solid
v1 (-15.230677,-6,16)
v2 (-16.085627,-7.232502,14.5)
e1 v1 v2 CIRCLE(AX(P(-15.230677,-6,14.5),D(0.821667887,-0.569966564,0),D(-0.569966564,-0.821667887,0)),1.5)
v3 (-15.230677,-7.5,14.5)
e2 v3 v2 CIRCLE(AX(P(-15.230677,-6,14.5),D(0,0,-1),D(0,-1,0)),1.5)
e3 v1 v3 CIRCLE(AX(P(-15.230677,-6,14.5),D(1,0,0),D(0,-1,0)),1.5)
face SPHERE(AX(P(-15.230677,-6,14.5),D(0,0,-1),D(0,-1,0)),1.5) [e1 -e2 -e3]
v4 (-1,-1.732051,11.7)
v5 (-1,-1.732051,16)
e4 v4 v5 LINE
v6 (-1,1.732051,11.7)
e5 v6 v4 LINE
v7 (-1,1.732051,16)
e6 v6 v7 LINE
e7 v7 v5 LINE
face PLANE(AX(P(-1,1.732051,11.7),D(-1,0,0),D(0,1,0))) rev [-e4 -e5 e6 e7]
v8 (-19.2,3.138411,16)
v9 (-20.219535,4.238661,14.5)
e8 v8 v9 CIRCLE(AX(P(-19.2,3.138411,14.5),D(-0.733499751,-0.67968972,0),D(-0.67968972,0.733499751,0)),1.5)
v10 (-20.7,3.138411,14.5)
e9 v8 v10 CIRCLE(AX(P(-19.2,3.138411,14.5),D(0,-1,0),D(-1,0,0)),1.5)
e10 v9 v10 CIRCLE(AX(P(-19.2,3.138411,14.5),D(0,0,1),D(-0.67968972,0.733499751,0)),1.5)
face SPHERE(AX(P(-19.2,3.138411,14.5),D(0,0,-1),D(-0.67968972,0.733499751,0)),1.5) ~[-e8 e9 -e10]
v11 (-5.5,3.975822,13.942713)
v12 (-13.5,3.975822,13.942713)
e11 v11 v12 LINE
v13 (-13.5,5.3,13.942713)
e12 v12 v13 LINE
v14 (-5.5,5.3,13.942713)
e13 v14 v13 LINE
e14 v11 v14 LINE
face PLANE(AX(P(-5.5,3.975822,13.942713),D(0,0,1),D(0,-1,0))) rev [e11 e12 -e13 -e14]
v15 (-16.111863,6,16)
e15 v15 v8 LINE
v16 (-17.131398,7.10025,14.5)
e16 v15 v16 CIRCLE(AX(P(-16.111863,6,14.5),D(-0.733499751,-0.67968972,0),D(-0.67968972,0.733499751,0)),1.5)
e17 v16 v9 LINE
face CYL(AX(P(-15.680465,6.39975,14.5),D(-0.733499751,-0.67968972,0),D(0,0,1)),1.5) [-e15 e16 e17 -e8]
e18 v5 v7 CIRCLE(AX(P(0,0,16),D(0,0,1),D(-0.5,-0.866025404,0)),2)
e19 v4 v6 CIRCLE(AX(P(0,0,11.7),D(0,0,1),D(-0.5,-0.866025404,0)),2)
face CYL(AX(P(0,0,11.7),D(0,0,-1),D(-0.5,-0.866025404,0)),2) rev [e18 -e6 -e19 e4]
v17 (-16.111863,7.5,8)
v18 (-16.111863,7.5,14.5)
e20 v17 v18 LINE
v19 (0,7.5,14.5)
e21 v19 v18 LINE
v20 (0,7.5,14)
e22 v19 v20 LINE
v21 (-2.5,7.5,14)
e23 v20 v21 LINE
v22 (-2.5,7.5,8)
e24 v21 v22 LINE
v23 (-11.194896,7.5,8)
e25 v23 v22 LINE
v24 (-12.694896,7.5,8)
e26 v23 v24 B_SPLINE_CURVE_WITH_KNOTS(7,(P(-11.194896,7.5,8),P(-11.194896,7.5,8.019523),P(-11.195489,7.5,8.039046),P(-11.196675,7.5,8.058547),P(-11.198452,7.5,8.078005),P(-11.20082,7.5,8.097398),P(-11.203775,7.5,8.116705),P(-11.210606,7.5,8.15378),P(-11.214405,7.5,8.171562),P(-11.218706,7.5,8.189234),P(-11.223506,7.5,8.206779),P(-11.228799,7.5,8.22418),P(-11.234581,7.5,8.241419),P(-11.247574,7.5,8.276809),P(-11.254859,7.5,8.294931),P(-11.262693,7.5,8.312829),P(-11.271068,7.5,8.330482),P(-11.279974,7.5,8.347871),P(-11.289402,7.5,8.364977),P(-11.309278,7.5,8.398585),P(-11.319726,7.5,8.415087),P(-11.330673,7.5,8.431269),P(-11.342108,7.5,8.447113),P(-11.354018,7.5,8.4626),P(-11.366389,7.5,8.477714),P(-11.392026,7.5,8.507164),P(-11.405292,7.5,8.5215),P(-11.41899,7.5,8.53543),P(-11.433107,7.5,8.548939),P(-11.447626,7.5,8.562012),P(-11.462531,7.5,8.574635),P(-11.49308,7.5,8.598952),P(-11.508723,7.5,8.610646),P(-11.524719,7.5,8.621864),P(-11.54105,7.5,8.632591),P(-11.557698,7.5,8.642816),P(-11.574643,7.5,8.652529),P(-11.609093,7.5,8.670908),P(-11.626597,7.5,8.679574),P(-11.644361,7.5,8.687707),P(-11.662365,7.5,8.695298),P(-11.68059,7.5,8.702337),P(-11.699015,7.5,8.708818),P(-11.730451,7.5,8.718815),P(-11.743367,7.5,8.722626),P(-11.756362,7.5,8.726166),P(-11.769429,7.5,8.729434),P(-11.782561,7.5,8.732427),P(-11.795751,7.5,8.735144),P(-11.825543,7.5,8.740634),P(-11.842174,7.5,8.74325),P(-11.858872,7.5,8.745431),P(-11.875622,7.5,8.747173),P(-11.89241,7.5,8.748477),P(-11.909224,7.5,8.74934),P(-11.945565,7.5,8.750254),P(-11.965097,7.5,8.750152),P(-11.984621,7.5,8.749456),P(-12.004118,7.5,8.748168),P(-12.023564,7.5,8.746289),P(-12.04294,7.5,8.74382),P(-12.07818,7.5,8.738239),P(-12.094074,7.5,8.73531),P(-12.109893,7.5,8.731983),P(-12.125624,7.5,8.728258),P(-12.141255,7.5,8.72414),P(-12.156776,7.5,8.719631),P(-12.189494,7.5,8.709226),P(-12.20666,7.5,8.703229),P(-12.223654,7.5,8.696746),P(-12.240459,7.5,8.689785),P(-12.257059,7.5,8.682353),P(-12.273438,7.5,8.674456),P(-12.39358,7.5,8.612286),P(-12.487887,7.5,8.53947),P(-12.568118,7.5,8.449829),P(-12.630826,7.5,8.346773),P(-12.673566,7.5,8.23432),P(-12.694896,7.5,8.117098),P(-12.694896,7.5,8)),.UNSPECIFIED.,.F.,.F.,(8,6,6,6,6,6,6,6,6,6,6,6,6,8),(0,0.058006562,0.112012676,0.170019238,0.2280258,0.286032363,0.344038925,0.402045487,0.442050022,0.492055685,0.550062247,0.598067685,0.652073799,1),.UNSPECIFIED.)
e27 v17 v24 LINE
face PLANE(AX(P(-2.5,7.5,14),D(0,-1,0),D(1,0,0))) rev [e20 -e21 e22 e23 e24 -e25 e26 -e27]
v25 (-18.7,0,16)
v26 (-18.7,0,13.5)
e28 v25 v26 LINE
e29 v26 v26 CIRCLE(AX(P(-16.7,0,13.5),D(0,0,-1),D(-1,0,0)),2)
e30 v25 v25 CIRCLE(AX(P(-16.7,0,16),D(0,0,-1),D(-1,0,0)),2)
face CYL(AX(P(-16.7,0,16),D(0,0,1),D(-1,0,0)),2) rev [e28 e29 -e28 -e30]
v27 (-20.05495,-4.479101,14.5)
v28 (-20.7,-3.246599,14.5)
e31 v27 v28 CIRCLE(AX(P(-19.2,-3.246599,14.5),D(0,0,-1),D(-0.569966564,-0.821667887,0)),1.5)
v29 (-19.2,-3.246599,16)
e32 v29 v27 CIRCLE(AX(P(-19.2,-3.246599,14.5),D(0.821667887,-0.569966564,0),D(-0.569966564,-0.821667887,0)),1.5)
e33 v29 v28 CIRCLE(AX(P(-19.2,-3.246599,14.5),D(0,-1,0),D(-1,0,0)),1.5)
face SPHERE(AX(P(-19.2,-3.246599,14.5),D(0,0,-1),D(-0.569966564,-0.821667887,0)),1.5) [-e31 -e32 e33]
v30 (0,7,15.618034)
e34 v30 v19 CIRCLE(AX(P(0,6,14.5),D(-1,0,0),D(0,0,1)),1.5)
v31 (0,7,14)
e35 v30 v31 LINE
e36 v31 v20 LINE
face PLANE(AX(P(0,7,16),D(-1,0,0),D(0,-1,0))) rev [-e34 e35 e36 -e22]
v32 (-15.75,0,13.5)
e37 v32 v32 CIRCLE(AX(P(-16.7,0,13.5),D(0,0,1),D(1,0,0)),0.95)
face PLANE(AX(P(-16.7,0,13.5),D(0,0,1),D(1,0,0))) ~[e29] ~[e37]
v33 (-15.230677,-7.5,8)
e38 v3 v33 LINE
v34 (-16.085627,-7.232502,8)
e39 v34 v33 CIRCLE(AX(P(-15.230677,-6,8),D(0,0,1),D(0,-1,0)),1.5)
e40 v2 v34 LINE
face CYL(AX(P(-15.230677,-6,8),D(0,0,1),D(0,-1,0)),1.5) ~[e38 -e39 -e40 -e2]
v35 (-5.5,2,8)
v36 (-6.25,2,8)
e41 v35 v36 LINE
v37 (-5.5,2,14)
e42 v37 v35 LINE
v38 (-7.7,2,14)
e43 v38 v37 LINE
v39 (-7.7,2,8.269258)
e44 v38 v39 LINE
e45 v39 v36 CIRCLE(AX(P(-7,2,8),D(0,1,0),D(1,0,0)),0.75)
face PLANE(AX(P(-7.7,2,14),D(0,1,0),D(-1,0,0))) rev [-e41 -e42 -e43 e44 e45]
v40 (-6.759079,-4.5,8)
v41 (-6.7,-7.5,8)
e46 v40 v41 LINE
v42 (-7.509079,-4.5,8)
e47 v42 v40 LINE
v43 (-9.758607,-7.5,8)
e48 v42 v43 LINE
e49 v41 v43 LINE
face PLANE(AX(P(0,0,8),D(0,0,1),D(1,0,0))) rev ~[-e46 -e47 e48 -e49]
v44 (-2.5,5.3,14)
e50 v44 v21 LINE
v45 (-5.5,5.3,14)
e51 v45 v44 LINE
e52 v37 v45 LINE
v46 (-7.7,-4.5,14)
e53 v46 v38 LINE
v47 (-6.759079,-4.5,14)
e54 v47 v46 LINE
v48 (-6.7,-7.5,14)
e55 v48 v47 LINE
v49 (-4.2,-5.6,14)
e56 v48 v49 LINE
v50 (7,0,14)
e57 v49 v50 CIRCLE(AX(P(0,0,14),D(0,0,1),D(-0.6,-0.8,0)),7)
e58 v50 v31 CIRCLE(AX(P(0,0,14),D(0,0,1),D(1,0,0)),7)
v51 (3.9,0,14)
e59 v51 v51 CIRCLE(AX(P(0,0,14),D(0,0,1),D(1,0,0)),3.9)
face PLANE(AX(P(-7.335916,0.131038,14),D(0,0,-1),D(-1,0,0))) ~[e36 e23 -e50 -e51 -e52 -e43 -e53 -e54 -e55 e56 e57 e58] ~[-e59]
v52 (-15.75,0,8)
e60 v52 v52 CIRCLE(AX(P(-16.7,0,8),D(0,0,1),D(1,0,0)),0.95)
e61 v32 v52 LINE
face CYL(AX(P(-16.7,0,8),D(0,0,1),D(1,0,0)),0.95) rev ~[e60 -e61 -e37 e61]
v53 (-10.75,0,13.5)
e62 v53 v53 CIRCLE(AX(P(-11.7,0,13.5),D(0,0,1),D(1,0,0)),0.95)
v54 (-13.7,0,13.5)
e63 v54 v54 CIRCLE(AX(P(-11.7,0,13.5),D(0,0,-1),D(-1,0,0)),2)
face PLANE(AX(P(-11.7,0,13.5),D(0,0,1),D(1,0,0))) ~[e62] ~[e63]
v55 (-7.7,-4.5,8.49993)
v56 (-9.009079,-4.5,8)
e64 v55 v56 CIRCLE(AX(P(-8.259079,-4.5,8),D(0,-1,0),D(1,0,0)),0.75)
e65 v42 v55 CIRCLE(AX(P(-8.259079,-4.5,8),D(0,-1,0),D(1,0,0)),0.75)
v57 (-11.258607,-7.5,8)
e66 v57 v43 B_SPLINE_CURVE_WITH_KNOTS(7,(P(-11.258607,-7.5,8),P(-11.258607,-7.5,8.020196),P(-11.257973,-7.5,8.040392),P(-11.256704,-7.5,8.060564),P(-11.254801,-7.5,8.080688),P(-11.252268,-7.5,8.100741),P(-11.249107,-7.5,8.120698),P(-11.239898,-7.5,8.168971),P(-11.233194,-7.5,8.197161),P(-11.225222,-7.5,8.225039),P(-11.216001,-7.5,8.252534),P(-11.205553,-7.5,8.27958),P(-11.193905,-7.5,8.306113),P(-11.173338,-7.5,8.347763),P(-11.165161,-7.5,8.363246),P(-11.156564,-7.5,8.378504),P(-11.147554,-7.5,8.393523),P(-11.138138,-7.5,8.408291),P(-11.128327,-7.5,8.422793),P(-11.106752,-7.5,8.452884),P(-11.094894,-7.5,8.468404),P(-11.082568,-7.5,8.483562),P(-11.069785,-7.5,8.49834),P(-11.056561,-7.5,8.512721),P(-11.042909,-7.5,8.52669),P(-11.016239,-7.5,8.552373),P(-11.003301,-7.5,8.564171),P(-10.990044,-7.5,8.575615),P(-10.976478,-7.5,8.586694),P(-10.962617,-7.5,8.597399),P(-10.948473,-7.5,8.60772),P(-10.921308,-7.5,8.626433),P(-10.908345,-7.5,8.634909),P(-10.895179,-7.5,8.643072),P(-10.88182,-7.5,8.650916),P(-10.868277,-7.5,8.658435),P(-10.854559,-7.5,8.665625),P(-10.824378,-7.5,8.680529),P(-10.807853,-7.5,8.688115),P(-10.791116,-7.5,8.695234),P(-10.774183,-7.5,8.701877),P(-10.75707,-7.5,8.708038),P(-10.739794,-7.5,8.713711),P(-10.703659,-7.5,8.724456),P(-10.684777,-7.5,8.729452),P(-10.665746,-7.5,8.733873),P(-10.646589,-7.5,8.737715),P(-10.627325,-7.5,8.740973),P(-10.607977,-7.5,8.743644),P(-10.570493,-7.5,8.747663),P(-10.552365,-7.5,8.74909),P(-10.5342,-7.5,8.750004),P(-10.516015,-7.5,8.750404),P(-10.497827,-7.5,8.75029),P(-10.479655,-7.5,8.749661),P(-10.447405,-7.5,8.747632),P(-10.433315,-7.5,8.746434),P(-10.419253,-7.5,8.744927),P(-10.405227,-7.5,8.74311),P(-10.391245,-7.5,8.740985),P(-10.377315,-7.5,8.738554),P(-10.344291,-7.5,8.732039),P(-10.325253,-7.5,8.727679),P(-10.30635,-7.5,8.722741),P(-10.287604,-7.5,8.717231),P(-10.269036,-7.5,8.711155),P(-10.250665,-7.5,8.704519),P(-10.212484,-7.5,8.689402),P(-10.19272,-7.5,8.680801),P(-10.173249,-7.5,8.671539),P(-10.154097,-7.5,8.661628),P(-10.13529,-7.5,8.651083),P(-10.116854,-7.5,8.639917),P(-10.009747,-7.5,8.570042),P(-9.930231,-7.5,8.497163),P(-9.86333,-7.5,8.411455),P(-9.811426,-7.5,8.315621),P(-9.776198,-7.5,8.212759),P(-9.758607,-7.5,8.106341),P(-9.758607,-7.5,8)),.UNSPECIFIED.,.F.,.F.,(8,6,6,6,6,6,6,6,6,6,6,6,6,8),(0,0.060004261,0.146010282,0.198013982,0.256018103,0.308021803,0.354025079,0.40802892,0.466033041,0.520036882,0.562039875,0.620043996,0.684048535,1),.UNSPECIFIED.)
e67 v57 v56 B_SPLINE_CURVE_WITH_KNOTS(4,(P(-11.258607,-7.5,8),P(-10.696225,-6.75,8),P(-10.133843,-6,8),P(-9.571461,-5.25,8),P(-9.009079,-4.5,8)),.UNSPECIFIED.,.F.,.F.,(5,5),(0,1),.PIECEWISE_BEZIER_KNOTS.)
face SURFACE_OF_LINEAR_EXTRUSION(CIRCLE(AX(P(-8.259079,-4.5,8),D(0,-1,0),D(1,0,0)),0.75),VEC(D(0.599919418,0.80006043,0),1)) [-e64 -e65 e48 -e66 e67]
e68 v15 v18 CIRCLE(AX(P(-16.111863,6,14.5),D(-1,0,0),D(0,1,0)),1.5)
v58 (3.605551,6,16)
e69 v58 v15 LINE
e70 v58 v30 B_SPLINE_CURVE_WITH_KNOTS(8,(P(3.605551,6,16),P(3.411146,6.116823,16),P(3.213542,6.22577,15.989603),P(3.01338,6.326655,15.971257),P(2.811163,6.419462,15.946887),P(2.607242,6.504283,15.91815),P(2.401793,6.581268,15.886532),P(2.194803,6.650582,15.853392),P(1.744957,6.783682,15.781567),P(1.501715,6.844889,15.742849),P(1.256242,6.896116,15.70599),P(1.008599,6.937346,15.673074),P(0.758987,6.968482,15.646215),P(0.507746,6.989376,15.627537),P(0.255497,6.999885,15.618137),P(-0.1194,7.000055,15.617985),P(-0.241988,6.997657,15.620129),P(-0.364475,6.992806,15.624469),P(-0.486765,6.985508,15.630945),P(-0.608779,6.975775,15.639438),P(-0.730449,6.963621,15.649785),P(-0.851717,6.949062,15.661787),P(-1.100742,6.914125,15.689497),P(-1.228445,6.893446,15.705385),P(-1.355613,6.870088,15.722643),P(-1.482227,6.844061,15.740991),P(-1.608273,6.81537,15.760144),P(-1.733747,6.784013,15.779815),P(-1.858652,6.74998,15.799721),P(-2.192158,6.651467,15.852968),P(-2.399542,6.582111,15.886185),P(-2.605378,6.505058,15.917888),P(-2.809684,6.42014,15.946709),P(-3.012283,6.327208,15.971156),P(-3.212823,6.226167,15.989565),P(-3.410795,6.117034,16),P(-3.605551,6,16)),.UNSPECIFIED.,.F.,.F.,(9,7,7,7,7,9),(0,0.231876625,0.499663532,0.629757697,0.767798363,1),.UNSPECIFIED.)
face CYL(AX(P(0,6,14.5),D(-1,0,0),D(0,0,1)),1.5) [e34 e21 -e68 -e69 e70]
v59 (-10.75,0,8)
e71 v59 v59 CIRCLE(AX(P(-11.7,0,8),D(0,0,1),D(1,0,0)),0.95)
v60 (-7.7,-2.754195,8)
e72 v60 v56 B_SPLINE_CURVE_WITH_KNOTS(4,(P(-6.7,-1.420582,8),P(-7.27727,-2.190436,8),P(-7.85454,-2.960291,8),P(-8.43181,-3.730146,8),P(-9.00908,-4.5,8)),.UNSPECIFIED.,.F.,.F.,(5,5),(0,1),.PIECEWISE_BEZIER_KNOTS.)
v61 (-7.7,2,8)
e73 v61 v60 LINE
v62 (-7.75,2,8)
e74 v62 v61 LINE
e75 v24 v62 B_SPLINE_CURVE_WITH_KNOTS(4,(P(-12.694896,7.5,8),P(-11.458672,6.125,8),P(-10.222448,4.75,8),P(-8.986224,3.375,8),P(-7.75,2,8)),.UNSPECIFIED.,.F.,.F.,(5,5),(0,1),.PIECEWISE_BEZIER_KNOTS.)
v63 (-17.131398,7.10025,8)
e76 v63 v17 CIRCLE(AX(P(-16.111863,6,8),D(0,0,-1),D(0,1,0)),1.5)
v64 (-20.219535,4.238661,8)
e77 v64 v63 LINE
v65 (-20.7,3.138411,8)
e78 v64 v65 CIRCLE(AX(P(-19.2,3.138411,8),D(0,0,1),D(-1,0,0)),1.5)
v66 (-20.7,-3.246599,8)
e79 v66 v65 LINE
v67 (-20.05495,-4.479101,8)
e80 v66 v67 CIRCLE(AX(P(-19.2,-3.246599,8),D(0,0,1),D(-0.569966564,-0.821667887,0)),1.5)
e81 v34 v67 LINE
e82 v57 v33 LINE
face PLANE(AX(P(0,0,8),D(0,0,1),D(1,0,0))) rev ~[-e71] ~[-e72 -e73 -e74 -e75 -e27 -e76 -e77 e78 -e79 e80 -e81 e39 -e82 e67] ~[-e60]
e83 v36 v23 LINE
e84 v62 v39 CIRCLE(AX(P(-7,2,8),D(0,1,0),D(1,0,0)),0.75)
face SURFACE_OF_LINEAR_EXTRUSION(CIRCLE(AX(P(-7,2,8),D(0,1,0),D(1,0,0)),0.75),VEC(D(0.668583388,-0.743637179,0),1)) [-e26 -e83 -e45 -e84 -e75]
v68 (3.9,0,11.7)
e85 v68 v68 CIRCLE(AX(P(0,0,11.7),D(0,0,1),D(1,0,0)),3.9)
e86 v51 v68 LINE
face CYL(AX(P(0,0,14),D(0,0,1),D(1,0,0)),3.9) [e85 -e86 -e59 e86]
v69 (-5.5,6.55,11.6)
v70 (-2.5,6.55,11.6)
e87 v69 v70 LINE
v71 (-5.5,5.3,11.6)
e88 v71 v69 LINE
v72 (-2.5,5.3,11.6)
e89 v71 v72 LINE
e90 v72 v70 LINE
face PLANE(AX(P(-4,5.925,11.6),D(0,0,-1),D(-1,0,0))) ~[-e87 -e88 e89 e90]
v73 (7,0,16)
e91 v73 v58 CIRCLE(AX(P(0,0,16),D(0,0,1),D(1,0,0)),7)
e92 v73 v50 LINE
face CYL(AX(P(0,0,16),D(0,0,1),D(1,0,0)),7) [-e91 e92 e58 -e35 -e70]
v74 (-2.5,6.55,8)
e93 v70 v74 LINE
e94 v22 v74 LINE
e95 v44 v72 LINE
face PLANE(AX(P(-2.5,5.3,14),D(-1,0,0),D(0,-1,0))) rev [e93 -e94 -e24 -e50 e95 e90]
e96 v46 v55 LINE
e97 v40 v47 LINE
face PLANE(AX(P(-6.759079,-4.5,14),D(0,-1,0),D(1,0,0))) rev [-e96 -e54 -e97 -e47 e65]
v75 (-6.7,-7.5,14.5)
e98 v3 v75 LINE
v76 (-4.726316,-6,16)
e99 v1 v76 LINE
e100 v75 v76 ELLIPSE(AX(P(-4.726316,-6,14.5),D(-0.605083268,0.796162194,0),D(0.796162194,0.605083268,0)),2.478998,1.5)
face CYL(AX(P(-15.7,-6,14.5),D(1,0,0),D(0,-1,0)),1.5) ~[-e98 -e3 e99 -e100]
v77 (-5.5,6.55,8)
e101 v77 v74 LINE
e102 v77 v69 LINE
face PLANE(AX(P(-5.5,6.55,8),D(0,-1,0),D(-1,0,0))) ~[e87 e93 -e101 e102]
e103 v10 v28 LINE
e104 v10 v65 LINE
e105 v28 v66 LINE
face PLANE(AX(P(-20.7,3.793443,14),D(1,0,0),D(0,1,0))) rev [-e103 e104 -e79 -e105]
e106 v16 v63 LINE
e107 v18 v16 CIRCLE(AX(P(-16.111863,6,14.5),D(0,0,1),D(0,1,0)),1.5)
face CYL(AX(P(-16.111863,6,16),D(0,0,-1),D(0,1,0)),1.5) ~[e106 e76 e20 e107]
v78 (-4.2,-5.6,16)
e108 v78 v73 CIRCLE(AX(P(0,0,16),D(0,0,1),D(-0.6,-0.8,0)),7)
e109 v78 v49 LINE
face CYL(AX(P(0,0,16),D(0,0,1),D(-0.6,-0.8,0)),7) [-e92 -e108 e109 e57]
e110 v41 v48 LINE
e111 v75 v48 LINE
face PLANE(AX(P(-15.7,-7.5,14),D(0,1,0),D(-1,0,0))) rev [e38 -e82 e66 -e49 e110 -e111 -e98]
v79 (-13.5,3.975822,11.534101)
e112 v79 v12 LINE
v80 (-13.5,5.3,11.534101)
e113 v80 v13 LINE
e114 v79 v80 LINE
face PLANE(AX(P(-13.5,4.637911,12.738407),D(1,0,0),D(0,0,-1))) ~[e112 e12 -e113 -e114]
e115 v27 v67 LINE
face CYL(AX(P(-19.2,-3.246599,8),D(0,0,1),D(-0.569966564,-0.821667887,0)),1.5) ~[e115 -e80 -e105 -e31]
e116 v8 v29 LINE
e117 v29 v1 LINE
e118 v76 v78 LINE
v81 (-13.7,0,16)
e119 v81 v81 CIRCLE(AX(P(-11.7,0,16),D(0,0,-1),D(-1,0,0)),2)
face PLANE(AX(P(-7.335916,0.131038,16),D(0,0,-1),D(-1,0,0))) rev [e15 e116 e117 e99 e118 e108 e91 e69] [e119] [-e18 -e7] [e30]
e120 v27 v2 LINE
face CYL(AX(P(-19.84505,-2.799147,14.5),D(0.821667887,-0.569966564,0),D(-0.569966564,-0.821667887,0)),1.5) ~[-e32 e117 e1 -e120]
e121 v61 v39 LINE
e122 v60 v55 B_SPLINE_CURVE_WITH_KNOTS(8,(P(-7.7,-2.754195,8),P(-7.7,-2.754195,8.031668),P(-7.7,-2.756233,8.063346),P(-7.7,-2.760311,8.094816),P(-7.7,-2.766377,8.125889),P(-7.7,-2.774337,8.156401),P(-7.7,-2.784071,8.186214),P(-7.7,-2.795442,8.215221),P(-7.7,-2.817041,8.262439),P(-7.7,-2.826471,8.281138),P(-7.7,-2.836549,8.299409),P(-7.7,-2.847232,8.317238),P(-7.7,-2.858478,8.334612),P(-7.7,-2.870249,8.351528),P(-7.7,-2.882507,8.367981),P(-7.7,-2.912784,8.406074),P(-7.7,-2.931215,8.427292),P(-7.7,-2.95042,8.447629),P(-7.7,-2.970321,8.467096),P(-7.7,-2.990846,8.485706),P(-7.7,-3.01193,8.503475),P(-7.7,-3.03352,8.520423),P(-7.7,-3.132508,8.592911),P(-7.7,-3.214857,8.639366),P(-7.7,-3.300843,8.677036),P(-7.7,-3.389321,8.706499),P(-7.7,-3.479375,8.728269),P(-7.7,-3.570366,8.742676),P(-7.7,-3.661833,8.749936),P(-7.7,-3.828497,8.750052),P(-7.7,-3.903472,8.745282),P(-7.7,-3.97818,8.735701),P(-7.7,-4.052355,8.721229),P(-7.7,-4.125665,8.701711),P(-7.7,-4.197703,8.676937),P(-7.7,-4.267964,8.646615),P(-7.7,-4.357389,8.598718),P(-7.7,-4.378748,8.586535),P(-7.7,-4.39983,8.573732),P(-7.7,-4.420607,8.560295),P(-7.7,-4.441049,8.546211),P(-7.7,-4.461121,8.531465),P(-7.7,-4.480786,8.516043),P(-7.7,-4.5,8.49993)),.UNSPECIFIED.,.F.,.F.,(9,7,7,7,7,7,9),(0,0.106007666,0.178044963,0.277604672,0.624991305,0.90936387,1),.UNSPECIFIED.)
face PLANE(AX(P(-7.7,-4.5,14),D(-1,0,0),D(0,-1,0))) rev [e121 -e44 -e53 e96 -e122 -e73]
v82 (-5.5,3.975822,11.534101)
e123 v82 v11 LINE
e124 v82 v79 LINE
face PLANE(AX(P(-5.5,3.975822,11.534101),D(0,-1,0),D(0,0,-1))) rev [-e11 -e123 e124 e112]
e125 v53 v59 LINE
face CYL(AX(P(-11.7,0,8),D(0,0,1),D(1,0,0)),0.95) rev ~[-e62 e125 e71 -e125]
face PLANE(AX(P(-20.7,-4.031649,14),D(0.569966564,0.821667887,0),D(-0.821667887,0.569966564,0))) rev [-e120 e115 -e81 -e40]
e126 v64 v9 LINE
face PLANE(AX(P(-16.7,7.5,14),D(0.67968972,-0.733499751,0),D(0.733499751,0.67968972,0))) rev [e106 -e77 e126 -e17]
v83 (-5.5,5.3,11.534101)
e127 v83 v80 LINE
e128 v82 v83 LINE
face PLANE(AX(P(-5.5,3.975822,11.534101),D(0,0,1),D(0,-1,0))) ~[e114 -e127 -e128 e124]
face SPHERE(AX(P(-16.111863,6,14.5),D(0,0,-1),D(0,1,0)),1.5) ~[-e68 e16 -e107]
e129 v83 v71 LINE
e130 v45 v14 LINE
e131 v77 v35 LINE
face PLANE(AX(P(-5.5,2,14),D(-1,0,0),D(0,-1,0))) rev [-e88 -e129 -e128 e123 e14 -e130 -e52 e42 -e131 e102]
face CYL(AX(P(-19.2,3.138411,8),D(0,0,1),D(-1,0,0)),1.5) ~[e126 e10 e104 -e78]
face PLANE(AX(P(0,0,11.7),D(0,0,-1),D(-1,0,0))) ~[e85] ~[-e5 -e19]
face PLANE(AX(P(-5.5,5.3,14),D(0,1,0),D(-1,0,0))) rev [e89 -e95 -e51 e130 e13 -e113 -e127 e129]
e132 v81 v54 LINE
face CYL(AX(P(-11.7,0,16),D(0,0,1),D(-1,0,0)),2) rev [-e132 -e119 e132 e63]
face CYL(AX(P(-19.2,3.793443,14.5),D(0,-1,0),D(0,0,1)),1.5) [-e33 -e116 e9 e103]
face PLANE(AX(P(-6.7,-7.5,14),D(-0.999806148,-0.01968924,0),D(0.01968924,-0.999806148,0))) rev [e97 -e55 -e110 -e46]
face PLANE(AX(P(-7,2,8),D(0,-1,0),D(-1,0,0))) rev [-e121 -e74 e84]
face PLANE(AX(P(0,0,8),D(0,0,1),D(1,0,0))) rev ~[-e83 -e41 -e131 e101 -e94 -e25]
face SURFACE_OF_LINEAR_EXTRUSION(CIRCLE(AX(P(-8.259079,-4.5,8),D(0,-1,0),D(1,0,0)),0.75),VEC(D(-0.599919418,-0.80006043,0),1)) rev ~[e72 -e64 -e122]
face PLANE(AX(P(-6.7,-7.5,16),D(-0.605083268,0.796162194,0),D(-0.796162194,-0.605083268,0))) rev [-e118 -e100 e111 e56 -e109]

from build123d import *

# Parameters (mm, degrees)
BOSS_EXTRUDE1_DEPTH = 2
BOSS_EXTRUDE2_DEPTH = 6
SKETCH24_R          = 3.9
BOSS_EXTRUDE5_DEPTH = 2.3
SKETCH30_W          = 2.408612022
SKETCH30_H          = 1.324178481
CUT_EXTRUDE12_DEPTH = 8
CUT_EXTRUDE11_DEPTH = 5.3
FILLET1_R           = 1.5
SKETCH34_R          = 0.75
CUT_EXTRUDE13_DEPTH = 8
SKETCH35_R          = 0.75
CUT_EXTRUDE14_DEPTH = 4
SKETCH36_R          = 0.95
CUT_EXTRUDE15_DEPTH = 8
SKETCH37_R          = 2
CUT_EXTRUDE16_DEPTH = 2.5
SKETCH38_W          = 3
SKETCH38_H          = 1.25
CUT_EXTRUDE17_DEPTH = 3.6


with BuildPart() as part:
    # Sketch2 → Boss-Extrude1 (new body)
    with BuildSketch(Plane.XY):
        with BuildLine():
            Line((-2.5, 7.5), (-16.7, 7.5))
            Line((-16.7, 7.5), (-20.7, 3.793442666))
            Line((-20.7, 3.793442666), (-20.7, -4.031648778))
            Line((-20.7, -4.031648778), (-15.7, -7.5))
            Line((-15.7, -7.5), (-6.7, -7.5))
            Line((-6.7, -7.5), (-4.2, -5.6))
            ThreePointArc((-4.2, -5.6), (3.130495168, -6.260990337), (7, 0))
            ThreePointArc((7, 0), (4.949747468, 4.949747468), (0, 7))
            Line((0, 7), (0, 7.5))
            Line((0, 7.5), (-2.5, 7.5))
        make_face()
    extrude(amount=BOSS_EXTRUDE1_DEPTH)

    # Sketch4 → Boss-Extrude2 (add)
    with BuildSketch(Plane.XY.offset(2)):
        Polygon((-15.7, -7.5), (-6.7, -7.5), (-6.759079174, -4.5), (-7.7, -4.5), (-7.7, 2), (-5.5, 2), (-5.5, 5.3), (-2.5, 5.3), (-2.5, 7.5), (-16.7, 7.5), (-20.7, 3.793442666), (-20.7, -4.031648778), align=None)
    extrude(amount=BOSS_EXTRUDE2_DEPTH)

    # Sketch24 → Boss-Extrude5 (add)
    with BuildSketch(Plane.XY.offset(2)):
        Circle(SKETCH24_R)
    extrude(amount=BOSS_EXTRUDE5_DEPTH)

    # Sketch30 → Cut-Extrude12 (cut)
    with BuildSketch(Plane(origin=(-5.5, 0, 0), x_dir=(0, 0, -1), z_dir=(1, 0, 0))):
        with Locations((-3.261593395, 4.63791076)):
            Rectangle(SKETCH30_W, SKETCH30_H)
    extrude(amount=-CUT_EXTRUDE12_DEPTH, mode=Mode.SUBTRACT)

    # Sketch28 → Cut-Extrude11 (cut, through all)
    with BuildSketch(Plane.XY.offset(4.3)):
        with BuildLine():
            Line((-1, 1.732050808), (-1, -1.732050808))
            ThreePointArc((-1, -1.732050808), (2, 0), (-1, 1.732050808))
        make_face()
    extrude(amount=-CUT_EXTRUDE11_DEPTH, mode=Mode.SUBTRACT)

    # Fillet1
    fillet1_edges = [part.edges().sort_by_distance(p)[0] for p in [
        (-11.2, -7.5, 0),
        (-8.35, 7.5, 0),
        (-18.7, 5.646721333, 0),
        (-18.2, -5.765824389, 0),
        (-20.7, -0.119103056, 0),
        (-15.7, -7.5, 4),
        (-20.7, -4.031648778, 4),
        (-20.7, 3.793442666, 4),
        (-16.7, 7.5, 4),
    ]]
    fillet(fillet1_edges, radius=FILLET1_R)

    # Sketch34 → Cut-Extrude13 (cut, along a direction that is not the sketch's normal)
    with BuildSketch(Plane.XZ.offset(-2)):
        with Locations((-7, 8)):
            Circle(SKETCH34_R)
    extrude(amount=-CUT_EXTRUDE13_DEPTH, dir=(0.668583388, -0.743637179, 0), mode=Mode.SUBTRACT)

    # Sketch35 → Cut-Extrude14 (cut, symmetric, along a direction that is not the sketch's normal)
    with BuildSketch(Plane(origin=(0, -4.5, 0), x_dir=(1, 0, 0), z_dir=(0, 1, 0))):
        with Locations((-8.259079174, -8)):
            Circle(SKETCH35_R)
    extrude(amount=CUT_EXTRUDE14_DEPTH, dir=(0.599919418, 0.80006043, 0), both=True, mode=Mode.SUBTRACT)

    # Sketch36 → Cut-Extrude15 (cut)
    with BuildSketch(Plane.XY.offset(8)):
        with Locations((-11.7, 0)):
            Circle(SKETCH36_R)
        with Locations((-16.7, 0)):
            Circle(SKETCH36_R)
    extrude(amount=-CUT_EXTRUDE15_DEPTH, mode=Mode.SUBTRACT)

    # Sketch37 → Cut-Extrude16 (cut)
    with BuildSketch(Plane(origin=(0, 0, 0), x_dir=(-1, 0, 0), z_dir=(0, 0, -1))):
        with Locations((11.7, 0)):
            Circle(SKETCH37_R)
        with Locations((16.7, 0)):
            Circle(SKETCH37_R)
    extrude(amount=-CUT_EXTRUDE16_DEPTH, mode=Mode.SUBTRACT)

    # Sketch38 → Cut-Extrude17 (cut)
    with BuildSketch(Plane.XY.offset(8)):
        with Locations((-4, 5.925)):
            Rectangle(SKETCH38_W, SKETCH38_H)
    extrude(amount=-CUT_EXTRUDE17_DEPTH, mode=Mode.SUBTRACT)

    # Mirror1: part across plane


with BuildPart() as part_1:
    add(part.part)
    add(part.part.mirror(Plane.XY.offset(8)))


with BuildPart() as body_2:
    # Split1: the piece on the far side of the plane
    add(part_1.part)
    split(bisect_by=Plane.XY.offset(8), keep=Keep.BOTTOM)


with BuildPart() as part_2:
    add(part_1.part)

    # Split1
    split(bisect_by=Plane.XY.offset(8), keep=Keep.TOP)


solid = part_2.part
